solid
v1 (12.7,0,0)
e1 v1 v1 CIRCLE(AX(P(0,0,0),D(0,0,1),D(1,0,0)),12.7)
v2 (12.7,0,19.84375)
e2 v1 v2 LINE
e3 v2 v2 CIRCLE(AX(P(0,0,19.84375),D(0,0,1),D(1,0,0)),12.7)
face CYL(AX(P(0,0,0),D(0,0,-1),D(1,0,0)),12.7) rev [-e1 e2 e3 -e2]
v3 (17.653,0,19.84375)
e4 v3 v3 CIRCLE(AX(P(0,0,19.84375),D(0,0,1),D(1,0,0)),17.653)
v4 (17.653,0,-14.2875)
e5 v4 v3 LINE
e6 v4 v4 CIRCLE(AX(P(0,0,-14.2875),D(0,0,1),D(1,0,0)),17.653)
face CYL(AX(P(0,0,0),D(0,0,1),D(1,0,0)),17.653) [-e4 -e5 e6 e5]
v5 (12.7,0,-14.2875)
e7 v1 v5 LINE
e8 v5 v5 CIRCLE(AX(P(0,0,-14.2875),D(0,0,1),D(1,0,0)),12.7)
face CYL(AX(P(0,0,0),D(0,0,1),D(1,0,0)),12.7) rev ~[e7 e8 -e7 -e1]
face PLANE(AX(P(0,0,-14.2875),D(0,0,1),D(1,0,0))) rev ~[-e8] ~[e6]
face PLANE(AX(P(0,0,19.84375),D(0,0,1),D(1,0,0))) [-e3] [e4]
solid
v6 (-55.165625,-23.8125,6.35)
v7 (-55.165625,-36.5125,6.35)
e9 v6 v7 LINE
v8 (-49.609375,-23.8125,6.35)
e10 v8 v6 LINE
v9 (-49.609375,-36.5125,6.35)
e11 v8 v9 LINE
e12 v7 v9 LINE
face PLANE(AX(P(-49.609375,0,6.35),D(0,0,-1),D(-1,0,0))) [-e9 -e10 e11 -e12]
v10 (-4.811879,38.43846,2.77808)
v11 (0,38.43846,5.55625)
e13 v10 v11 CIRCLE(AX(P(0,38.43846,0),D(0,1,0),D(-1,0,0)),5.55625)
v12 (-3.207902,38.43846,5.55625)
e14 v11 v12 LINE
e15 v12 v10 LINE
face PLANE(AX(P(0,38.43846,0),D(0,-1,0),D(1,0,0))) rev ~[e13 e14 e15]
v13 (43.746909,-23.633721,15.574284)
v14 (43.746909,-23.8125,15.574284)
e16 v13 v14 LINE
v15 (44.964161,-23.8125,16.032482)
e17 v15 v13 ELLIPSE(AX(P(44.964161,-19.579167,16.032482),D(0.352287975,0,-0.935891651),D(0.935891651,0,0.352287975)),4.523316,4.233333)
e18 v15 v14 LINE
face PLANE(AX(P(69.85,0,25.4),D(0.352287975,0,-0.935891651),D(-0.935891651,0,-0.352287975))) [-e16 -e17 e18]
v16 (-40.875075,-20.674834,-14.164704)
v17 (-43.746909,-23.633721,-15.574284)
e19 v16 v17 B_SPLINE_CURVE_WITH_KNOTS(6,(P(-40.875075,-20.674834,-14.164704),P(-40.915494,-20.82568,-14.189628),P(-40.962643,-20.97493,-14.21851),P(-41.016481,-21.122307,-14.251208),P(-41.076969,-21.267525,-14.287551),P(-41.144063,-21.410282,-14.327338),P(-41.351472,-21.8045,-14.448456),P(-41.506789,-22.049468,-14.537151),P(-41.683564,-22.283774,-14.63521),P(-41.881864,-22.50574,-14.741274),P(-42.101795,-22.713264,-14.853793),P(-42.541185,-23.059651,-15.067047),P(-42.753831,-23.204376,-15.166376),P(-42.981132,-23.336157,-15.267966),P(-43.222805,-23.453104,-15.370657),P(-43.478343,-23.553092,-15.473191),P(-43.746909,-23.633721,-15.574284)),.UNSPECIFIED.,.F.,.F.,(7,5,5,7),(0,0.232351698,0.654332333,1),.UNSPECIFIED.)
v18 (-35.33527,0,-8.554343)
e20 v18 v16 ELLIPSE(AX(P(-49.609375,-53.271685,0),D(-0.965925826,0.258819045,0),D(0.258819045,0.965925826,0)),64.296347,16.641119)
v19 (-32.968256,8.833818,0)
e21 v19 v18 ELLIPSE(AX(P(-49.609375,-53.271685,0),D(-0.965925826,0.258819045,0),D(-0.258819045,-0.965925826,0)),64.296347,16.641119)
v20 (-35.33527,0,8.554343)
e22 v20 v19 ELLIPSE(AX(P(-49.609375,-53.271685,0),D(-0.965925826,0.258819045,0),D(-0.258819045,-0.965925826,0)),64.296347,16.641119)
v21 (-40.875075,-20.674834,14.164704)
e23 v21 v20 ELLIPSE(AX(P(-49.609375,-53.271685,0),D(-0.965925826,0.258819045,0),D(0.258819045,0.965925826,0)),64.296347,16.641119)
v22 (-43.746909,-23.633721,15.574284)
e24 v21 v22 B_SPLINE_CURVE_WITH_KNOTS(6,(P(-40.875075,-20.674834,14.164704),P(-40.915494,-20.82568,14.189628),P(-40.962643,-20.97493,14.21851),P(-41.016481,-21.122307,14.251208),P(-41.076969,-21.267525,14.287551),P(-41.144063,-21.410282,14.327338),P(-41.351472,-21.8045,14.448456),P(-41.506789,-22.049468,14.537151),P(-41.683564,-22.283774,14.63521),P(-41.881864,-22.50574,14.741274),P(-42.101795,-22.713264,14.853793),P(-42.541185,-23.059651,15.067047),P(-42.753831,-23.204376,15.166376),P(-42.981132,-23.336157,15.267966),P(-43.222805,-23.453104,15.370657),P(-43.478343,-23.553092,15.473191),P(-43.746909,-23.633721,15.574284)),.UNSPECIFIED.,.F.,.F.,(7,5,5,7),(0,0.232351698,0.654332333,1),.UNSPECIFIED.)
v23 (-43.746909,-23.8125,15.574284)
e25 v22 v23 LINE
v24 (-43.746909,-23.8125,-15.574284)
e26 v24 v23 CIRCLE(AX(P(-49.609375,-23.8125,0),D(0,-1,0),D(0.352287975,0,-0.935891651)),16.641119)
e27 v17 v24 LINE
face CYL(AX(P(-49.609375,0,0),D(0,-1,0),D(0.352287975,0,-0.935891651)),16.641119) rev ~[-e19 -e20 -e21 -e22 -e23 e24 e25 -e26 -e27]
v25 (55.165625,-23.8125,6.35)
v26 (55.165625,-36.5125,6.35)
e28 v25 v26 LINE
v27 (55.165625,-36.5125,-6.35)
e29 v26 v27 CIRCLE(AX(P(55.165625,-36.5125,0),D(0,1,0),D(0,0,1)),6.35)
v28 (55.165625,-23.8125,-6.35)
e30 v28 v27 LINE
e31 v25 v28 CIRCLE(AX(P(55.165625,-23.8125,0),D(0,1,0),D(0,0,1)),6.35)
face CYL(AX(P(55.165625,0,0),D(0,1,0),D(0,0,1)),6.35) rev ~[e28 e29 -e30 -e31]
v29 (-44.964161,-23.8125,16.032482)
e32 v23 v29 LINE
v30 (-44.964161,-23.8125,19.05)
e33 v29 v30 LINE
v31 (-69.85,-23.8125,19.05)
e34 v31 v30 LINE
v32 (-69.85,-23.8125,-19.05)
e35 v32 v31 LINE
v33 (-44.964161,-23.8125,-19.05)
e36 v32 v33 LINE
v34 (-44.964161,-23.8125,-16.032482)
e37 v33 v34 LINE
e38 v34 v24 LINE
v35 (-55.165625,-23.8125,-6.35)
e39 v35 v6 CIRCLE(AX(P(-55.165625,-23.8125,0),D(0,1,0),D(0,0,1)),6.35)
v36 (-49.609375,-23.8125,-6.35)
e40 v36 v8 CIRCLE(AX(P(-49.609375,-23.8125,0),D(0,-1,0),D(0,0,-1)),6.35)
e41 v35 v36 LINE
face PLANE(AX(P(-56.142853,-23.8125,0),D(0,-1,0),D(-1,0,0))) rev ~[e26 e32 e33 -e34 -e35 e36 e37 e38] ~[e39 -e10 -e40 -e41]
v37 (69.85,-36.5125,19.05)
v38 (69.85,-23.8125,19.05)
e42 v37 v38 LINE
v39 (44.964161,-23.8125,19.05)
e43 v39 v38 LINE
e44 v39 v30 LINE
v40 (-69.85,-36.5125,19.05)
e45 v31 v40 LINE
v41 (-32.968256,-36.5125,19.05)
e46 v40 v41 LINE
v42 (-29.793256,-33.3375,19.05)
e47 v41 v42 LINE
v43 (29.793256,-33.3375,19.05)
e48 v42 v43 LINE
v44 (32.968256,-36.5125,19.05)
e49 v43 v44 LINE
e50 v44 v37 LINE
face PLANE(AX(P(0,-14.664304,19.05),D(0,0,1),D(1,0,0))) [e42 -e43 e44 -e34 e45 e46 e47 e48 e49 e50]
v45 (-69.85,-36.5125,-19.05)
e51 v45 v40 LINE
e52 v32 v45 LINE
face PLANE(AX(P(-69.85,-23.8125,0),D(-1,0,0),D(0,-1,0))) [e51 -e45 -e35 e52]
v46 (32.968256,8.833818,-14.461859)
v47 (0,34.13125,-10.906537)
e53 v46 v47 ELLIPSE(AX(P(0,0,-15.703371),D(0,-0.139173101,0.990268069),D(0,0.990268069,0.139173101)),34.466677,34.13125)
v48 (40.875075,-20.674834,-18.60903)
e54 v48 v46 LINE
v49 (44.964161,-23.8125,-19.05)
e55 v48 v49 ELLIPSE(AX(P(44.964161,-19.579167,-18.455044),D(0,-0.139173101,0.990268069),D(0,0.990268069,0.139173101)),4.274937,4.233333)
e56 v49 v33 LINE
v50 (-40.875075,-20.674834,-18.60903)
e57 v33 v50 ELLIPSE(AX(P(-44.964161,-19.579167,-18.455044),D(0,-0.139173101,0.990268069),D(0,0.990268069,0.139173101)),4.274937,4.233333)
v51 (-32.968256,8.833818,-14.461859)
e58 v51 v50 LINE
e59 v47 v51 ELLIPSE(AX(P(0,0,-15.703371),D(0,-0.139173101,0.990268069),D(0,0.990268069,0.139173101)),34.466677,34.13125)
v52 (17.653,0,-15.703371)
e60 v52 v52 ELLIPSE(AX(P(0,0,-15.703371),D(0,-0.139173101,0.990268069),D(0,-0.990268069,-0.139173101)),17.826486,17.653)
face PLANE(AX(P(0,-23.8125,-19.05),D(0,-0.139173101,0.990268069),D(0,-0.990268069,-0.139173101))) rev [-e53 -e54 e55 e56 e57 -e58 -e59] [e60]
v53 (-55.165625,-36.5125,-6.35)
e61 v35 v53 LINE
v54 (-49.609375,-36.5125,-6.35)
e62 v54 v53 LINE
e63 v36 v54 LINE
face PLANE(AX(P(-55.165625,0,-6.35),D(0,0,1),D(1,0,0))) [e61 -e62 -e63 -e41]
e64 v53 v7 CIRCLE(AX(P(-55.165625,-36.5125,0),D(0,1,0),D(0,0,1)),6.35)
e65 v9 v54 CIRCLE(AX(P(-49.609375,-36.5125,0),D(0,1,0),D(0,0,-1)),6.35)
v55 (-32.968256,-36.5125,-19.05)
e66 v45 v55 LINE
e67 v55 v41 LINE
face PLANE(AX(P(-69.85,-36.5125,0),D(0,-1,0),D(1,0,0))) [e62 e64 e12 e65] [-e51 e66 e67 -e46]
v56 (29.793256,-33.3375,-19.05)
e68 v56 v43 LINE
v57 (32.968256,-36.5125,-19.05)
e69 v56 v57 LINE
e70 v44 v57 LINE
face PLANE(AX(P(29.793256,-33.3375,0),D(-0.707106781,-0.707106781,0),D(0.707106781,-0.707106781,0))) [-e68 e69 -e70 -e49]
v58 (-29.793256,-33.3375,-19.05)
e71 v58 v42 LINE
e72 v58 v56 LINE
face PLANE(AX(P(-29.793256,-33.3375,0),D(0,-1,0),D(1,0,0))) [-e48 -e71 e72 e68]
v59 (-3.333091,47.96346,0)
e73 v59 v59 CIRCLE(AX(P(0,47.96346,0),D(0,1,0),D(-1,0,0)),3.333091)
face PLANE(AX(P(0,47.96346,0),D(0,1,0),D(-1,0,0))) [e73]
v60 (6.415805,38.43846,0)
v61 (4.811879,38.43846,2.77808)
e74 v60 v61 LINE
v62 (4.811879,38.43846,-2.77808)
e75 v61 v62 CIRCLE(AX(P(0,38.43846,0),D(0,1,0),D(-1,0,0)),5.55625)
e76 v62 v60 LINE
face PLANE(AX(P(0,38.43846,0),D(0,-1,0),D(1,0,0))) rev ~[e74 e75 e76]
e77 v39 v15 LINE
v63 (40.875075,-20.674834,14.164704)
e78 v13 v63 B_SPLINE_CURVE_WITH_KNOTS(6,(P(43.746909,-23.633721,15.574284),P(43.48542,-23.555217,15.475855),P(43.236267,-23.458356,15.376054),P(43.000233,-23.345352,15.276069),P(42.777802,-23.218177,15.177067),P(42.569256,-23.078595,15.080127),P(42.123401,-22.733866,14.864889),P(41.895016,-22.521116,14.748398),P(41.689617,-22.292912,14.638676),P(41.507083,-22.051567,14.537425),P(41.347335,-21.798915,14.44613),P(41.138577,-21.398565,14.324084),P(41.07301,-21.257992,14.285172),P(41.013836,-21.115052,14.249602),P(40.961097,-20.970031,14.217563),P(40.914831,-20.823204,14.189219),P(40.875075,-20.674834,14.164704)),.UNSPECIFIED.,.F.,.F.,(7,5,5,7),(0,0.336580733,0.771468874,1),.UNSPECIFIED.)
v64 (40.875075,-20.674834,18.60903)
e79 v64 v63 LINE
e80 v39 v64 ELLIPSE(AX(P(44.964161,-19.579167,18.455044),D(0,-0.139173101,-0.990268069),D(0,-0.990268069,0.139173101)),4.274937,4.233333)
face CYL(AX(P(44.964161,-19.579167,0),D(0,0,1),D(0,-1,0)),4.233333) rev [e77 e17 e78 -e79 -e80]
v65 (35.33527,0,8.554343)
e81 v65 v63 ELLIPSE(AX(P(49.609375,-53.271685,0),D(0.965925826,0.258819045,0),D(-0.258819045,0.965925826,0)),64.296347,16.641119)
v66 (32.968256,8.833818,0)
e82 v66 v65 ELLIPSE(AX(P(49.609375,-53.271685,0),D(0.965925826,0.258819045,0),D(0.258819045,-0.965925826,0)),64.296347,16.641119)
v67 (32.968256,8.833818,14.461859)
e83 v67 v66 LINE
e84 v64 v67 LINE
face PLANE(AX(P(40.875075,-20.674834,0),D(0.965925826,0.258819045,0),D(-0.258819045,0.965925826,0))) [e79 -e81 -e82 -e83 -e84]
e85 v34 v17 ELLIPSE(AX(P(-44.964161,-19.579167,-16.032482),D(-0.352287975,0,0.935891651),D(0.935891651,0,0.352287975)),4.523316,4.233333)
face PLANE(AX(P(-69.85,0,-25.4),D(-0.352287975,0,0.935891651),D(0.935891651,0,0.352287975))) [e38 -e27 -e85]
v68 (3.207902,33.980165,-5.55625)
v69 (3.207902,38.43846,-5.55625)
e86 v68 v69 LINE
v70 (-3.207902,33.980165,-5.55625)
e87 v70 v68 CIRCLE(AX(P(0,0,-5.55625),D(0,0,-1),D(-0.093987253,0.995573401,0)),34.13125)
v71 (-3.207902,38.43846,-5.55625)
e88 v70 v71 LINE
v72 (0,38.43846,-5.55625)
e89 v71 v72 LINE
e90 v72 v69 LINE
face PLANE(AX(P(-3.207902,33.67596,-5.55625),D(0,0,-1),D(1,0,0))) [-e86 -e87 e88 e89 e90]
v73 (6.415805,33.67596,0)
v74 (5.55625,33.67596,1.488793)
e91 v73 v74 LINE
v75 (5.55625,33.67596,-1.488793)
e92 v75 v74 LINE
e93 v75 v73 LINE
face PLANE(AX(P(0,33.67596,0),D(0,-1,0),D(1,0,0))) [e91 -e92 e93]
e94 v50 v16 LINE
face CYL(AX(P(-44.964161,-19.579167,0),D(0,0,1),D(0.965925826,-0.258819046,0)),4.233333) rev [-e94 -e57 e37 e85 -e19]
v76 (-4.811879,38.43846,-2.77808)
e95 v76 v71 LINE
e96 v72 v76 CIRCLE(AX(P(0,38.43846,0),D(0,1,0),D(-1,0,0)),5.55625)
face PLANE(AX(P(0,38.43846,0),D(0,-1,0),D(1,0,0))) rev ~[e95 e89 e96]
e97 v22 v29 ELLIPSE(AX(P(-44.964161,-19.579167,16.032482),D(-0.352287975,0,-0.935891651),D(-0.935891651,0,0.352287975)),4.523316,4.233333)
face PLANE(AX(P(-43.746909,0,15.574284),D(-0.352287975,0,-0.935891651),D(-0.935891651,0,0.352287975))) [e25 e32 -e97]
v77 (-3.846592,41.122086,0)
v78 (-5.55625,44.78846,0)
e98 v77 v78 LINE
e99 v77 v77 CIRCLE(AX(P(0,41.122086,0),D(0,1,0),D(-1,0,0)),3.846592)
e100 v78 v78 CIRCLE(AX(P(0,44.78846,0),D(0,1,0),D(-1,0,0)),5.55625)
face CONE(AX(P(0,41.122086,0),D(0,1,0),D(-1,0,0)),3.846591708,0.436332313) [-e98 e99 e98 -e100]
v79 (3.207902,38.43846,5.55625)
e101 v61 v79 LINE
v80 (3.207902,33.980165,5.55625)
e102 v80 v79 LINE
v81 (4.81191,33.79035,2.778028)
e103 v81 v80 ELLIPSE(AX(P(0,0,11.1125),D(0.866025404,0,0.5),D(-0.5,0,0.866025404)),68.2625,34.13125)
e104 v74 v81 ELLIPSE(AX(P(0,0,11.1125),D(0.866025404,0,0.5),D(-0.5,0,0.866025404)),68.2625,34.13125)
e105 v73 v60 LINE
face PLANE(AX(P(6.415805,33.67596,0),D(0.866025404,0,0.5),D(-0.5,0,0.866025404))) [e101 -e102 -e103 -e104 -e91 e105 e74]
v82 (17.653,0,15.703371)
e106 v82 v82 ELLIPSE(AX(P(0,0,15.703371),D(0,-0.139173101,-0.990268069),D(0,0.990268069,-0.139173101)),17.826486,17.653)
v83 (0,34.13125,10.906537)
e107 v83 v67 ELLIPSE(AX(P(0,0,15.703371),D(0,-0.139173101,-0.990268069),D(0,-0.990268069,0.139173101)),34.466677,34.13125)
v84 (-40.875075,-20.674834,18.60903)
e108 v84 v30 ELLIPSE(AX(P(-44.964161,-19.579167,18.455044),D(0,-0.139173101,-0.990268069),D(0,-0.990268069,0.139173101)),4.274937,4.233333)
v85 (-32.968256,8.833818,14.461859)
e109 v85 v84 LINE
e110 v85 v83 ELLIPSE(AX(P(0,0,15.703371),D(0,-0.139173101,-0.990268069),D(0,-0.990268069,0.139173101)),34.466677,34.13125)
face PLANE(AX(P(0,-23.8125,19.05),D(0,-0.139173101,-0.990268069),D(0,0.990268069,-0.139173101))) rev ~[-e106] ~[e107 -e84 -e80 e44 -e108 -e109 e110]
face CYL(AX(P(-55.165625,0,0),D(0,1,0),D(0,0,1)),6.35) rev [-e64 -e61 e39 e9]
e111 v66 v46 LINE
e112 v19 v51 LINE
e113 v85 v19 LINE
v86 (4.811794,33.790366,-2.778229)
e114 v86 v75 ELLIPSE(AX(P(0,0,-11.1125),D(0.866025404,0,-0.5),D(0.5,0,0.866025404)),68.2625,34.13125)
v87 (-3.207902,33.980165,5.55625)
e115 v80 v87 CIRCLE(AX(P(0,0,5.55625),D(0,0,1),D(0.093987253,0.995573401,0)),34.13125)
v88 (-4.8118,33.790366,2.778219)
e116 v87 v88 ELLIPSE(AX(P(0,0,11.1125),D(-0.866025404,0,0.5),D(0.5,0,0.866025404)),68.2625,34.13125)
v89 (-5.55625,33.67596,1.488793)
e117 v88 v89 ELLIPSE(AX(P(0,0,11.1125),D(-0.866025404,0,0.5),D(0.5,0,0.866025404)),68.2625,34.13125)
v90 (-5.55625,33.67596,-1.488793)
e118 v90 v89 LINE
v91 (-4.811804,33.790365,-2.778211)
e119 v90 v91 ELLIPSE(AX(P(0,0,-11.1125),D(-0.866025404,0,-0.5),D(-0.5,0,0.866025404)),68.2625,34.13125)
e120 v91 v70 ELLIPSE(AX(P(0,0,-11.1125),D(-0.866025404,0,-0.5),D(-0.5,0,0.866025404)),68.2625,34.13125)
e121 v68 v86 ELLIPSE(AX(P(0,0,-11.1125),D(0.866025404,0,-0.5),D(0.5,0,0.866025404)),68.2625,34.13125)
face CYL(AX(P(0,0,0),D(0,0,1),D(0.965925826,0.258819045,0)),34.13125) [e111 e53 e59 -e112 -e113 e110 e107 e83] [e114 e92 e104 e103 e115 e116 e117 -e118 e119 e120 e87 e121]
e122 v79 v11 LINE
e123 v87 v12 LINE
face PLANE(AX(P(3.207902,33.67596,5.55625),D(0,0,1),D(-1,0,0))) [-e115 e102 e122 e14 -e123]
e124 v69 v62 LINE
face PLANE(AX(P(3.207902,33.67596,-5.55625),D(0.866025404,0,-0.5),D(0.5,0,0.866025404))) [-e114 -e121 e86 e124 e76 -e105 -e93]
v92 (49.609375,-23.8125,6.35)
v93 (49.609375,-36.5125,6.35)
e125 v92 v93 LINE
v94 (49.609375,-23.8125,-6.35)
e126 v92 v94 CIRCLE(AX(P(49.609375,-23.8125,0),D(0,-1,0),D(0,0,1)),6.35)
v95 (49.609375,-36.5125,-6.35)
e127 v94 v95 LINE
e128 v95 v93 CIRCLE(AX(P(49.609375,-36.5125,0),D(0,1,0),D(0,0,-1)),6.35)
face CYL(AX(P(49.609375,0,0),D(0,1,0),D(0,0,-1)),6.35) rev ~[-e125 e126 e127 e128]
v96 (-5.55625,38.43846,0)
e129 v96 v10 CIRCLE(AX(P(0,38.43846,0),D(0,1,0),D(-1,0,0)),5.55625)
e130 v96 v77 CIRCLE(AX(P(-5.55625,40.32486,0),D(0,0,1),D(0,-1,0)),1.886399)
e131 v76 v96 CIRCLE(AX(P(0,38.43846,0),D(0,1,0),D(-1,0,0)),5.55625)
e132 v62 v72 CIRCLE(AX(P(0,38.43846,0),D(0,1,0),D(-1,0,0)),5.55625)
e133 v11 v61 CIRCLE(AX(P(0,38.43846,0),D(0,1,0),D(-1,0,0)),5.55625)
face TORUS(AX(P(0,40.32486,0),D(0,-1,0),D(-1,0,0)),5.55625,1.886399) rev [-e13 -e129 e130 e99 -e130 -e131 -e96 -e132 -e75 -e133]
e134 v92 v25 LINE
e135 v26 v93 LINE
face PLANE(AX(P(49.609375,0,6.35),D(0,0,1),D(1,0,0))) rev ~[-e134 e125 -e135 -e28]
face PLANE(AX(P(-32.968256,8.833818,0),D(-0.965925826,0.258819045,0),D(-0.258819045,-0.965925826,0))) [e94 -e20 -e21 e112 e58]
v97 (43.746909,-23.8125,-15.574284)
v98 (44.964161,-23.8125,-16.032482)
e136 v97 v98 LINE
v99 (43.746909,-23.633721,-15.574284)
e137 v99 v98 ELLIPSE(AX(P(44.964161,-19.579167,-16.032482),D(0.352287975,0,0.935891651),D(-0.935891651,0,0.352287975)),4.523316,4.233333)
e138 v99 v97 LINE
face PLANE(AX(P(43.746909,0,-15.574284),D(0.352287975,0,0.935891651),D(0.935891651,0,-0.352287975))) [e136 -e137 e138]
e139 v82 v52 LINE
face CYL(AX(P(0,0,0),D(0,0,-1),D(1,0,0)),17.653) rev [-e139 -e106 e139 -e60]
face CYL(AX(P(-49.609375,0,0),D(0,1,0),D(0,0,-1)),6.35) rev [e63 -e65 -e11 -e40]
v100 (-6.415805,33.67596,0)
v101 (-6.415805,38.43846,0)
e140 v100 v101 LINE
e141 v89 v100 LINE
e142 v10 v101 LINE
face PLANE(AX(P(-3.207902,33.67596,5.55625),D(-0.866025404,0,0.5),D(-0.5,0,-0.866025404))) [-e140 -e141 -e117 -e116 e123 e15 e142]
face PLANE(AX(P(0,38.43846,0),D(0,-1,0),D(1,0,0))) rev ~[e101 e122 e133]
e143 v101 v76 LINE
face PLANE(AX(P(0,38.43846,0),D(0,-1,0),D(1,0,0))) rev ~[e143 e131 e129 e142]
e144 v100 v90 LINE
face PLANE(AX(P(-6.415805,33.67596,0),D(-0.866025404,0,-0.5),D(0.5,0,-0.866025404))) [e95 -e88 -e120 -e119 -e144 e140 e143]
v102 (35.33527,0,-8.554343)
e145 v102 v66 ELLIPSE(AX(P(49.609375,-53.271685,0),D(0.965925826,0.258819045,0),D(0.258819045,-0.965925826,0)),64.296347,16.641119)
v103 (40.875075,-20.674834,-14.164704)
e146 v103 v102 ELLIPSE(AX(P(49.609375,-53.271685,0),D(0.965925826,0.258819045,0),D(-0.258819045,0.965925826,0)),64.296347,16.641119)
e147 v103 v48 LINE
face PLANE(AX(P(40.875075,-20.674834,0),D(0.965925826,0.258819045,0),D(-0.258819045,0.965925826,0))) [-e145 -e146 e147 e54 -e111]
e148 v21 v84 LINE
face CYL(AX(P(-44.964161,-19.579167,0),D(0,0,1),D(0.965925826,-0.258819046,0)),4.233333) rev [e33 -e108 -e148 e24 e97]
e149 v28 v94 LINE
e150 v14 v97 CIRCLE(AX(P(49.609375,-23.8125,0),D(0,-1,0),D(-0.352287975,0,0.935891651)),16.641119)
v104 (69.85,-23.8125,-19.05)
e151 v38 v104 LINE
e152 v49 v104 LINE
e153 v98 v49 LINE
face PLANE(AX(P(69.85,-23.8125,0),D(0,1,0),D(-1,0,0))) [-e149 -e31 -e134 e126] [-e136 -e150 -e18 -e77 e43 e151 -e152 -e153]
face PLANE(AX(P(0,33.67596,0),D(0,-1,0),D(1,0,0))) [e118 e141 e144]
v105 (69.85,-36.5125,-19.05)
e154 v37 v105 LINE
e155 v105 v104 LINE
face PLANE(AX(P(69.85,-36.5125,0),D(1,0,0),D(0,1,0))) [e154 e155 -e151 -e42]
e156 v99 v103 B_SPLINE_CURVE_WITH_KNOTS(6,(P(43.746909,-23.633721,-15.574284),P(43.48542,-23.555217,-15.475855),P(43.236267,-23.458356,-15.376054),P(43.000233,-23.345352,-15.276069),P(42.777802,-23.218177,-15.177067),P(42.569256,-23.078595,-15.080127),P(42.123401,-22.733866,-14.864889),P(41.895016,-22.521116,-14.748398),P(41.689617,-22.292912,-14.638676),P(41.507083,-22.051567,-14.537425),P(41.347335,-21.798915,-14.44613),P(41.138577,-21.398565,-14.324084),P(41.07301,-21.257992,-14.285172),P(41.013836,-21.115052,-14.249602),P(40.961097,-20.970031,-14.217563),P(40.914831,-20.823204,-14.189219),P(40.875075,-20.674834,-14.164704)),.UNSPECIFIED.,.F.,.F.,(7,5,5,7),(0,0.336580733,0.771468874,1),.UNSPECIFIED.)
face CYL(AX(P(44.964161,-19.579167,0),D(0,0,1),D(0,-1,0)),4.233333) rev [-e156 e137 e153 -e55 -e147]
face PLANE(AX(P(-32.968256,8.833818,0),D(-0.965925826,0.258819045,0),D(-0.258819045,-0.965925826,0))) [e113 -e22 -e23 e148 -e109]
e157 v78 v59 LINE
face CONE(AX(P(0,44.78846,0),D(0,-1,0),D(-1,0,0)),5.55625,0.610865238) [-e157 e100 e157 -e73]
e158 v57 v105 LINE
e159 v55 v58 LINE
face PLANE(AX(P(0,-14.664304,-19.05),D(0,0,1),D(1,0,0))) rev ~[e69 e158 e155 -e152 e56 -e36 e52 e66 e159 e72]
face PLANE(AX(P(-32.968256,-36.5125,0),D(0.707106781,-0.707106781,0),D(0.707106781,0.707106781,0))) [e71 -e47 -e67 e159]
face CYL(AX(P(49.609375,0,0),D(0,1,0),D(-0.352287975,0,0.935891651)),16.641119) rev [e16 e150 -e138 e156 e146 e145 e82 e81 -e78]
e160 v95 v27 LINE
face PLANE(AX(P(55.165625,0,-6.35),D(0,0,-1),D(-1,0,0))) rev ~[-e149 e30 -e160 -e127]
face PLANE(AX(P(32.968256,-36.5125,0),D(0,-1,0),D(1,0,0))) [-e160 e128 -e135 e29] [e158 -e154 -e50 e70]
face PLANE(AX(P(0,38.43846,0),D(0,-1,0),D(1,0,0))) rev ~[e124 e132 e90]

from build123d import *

# Parameters (mm, degrees)
SKETCH1_R               = 17.653
SKETCH1_R_2             = 12.7
EXTRUDE1_DEPTH          = 19.84375
EXTRUDE1_DEPTH_BACK     = 14.2875
SKETCH2_R               = 17.653
EXTRUDE2_DEPTH          = 19.05
CUT_EXTRUDE1_DEPTH      = 35.13125
CUT_EXTRUDE1_DEPTH_BACK = 37.5125
CUT_EXTRUDE2_DEPTH      = 35.13125
CUT_EXTRUDE2_DEPTH_BACK = 23.8125
CUT_EXTRUDE3_DEPTH      = 70.85
EXTRUDE3_DEPTH          = 4.7625


with BuildPart() as part:
    # Sketch1 → Extrude1 (new body, two sides)
    with BuildSketch(Plane.XY) as extrude1_sk:
        Circle(SKETCH1_R)
        Circle(SKETCH1_R_2, mode=Mode.SUBTRACT)
    extrude(amount=EXTRUDE1_DEPTH)
    extrude(extrude1_sk.sketch, amount=-EXTRUDE1_DEPTH_BACK)


with BuildPart() as body_2:
    # Sketch2 → Extrude2 (new body, symmetric)
    with BuildSketch(Plane.XY):
        with BuildLine():
            Line((-32.968255859, 8.833817533), (-40.875075195, -20.674833958))
            ThreePointArc((-40.875075195, -20.674833958), (-42.387071144, -22.937695807), (-44.964161193, -23.8125))
            Line((-44.964161193, -23.8125), (-69.85, -23.8125))
            Line((-69.85, -23.8125), (-69.85, -36.5125))
            Line((-69.85, -36.5125), (-32.968255859, -36.5125))
            Line((-32.968255859, -36.5125), (-29.793255859, -33.3375))
            Line((-29.793255859, -33.3375), (29.793255859, -33.3375))
            Line((29.793255859, -33.3375), (32.968255859, -36.5125))
            Line((32.968255859, -36.5125), (69.85, -36.5125))
            Line((69.85, -36.5125), (69.85, -23.8125))
            Line((69.85, -23.8125), (44.964161193, -23.8125))
            ThreePointArc((44.964161193, -23.8125), (42.387071144, -22.937695807), (40.875075195, -20.674833958))
            Line((40.875075195, -20.674833958), (32.968255859, 8.833817533))
            ThreePointArc((32.968255859, 8.833817533), (0, 34.13125), (-32.968255859, 8.833817533))
        make_face()
        Circle(SKETCH2_R, mode=Mode.SUBTRACT)
    extrude(amount=EXTRUDE2_DEPTH, both=True)

    # Sketch3 → Cut-Extrude1 (cut, two sides)
    with BuildSketch(Plane(origin=(0, 0, 0), x_dir=(1, 0, 0), z_dir=(0, 1, 0))) as cut_extrude1_sk:
        with BuildLine():
            Line((-55.165625, 6.35), (-49.609375, 6.35))
            ThreePointArc((-49.609375, 6.35), (-43.259375, 0), (-49.609375, -6.35))
            Line((-49.609375, -6.35), (-55.165625, -6.35))
            ThreePointArc((-55.165625, -6.35), (-61.515625, 0), (-55.165625, 6.35))
        make_face()
        with BuildLine():
            Line((49.609375, -6.35), (55.165625, -6.35))
            ThreePointArc((55.165625, -6.35), (61.515625, 0), (55.165625, 6.35))
            Line((55.165625, 6.35), (49.609375, 6.35))
            ThreePointArc((49.609375, 6.35), (43.259375, 0), (49.609375, -6.35))
        make_face()
    extrude(amount=CUT_EXTRUDE1_DEPTH, mode=Mode.SUBTRACT)
    extrude(cut_extrude1_sk.sketch, amount=-CUT_EXTRUDE1_DEPTH_BACK, mode=Mode.SUBTRACT)

    # Sketch4 → Cut-Extrude2 (cut, two sides)
    with BuildSketch(Plane(origin=(0, 0, 0), x_dir=(1, 0, 0), z_dir=(0, 1, 0))) as cut_extrude2_sk:
        with BuildLine():
            Line((43.746908834, 15.574284469), (69.85, 25.4))
            Line((69.85, 25.4), (69.85, -25.4))
            Line((69.85, -25.4), (43.746908834, -15.574284469))
            ThreePointArc((43.746908834, -15.574284469), (32.968255859, 0), (43.746908834, 15.574284469))
        make_face()
        with BuildLine():
            Line((-43.746908834, -15.574284469), (-69.85, -25.4))
            Line((-69.85, -25.4), (-69.85, 25.4))
            Line((-69.85, 25.4), (-43.746908834, 15.574284469))
            ThreePointArc((-43.746908834, 15.574284469), (-32.968255859, 0), (-43.746908834, -15.574284469))
        make_face()
    extrude(amount=CUT_EXTRUDE2_DEPTH, mode=Mode.SUBTRACT)
    extrude(cut_extrude2_sk.sketch, amount=-CUT_EXTRUDE2_DEPTH_BACK, mode=Mode.SUBTRACT)

    # Sketch5 → Cut-Extrude3 (cut, symmetric)
    with BuildSketch(Plane(origin=(0, 0, 0), x_dir=(0, 0, -1), z_dir=(1, 0, 0))):
        Polygon((-19.05, -23.8125), (-10.906537009, 34.13125), (-19.05, 34.13125), align=None)
    cut_extrude3 = extrude(amount=CUT_EXTRUDE3_DEPTH, both=True, mode=Mode.SUBTRACT)

    # Mirror1: Cut-Extrude3 across plane
    add(cut_extrude3.mirror(Plane.XY), mode=Mode.SUBTRACT)



with BuildPart() as body_3:
    # Sketch6 → Revolve1 (revolve)
    with BuildSketch(Plane.XY):
        with BuildLine():
            Line((0, 33.675960454), (-5.55625, 33.675960454))
            Line((-5.55625, 33.675960454), (-5.55625, 38.438460454))
            ThreePointArc((-5.55625, 38.438460454), (-3.965277045, 39.311298106), (-3.846591708, 41.122086416))
            Line((-3.846591708, 41.122086416), (-5.55625, 44.788460454))
            Line((-5.55625, 44.788460454), (-3.333091066, 47.963460454))
            Line((-3.333091066, 47.963460454), (0, 47.963460454))
            Line((0, 47.963460454), (0, 33.675960454))
        make_face()
    revolve(axis=Axis((0, 34.13125, 0), (0, 1, 0)))


with BuildPart() as body_2_1:
    add(body_2.part)

    add(body_3.part)  # Extrude3 merges body 3
    # Sketch7 → Extrude3 (add)
    with BuildSketch(Plane.XZ.offset(-33.675960454)):
        Polygon((-3.207902433, 5.55625), (-6.415804866, 0), (-3.207902433, -5.55625), (3.207902433, -5.55625), (6.415804866, 0), (3.207902433, 5.55625), align=None)
    extrude(amount=-EXTRUDE3_DEPTH)


solid = Compound([part.part, body_2_1.part])
